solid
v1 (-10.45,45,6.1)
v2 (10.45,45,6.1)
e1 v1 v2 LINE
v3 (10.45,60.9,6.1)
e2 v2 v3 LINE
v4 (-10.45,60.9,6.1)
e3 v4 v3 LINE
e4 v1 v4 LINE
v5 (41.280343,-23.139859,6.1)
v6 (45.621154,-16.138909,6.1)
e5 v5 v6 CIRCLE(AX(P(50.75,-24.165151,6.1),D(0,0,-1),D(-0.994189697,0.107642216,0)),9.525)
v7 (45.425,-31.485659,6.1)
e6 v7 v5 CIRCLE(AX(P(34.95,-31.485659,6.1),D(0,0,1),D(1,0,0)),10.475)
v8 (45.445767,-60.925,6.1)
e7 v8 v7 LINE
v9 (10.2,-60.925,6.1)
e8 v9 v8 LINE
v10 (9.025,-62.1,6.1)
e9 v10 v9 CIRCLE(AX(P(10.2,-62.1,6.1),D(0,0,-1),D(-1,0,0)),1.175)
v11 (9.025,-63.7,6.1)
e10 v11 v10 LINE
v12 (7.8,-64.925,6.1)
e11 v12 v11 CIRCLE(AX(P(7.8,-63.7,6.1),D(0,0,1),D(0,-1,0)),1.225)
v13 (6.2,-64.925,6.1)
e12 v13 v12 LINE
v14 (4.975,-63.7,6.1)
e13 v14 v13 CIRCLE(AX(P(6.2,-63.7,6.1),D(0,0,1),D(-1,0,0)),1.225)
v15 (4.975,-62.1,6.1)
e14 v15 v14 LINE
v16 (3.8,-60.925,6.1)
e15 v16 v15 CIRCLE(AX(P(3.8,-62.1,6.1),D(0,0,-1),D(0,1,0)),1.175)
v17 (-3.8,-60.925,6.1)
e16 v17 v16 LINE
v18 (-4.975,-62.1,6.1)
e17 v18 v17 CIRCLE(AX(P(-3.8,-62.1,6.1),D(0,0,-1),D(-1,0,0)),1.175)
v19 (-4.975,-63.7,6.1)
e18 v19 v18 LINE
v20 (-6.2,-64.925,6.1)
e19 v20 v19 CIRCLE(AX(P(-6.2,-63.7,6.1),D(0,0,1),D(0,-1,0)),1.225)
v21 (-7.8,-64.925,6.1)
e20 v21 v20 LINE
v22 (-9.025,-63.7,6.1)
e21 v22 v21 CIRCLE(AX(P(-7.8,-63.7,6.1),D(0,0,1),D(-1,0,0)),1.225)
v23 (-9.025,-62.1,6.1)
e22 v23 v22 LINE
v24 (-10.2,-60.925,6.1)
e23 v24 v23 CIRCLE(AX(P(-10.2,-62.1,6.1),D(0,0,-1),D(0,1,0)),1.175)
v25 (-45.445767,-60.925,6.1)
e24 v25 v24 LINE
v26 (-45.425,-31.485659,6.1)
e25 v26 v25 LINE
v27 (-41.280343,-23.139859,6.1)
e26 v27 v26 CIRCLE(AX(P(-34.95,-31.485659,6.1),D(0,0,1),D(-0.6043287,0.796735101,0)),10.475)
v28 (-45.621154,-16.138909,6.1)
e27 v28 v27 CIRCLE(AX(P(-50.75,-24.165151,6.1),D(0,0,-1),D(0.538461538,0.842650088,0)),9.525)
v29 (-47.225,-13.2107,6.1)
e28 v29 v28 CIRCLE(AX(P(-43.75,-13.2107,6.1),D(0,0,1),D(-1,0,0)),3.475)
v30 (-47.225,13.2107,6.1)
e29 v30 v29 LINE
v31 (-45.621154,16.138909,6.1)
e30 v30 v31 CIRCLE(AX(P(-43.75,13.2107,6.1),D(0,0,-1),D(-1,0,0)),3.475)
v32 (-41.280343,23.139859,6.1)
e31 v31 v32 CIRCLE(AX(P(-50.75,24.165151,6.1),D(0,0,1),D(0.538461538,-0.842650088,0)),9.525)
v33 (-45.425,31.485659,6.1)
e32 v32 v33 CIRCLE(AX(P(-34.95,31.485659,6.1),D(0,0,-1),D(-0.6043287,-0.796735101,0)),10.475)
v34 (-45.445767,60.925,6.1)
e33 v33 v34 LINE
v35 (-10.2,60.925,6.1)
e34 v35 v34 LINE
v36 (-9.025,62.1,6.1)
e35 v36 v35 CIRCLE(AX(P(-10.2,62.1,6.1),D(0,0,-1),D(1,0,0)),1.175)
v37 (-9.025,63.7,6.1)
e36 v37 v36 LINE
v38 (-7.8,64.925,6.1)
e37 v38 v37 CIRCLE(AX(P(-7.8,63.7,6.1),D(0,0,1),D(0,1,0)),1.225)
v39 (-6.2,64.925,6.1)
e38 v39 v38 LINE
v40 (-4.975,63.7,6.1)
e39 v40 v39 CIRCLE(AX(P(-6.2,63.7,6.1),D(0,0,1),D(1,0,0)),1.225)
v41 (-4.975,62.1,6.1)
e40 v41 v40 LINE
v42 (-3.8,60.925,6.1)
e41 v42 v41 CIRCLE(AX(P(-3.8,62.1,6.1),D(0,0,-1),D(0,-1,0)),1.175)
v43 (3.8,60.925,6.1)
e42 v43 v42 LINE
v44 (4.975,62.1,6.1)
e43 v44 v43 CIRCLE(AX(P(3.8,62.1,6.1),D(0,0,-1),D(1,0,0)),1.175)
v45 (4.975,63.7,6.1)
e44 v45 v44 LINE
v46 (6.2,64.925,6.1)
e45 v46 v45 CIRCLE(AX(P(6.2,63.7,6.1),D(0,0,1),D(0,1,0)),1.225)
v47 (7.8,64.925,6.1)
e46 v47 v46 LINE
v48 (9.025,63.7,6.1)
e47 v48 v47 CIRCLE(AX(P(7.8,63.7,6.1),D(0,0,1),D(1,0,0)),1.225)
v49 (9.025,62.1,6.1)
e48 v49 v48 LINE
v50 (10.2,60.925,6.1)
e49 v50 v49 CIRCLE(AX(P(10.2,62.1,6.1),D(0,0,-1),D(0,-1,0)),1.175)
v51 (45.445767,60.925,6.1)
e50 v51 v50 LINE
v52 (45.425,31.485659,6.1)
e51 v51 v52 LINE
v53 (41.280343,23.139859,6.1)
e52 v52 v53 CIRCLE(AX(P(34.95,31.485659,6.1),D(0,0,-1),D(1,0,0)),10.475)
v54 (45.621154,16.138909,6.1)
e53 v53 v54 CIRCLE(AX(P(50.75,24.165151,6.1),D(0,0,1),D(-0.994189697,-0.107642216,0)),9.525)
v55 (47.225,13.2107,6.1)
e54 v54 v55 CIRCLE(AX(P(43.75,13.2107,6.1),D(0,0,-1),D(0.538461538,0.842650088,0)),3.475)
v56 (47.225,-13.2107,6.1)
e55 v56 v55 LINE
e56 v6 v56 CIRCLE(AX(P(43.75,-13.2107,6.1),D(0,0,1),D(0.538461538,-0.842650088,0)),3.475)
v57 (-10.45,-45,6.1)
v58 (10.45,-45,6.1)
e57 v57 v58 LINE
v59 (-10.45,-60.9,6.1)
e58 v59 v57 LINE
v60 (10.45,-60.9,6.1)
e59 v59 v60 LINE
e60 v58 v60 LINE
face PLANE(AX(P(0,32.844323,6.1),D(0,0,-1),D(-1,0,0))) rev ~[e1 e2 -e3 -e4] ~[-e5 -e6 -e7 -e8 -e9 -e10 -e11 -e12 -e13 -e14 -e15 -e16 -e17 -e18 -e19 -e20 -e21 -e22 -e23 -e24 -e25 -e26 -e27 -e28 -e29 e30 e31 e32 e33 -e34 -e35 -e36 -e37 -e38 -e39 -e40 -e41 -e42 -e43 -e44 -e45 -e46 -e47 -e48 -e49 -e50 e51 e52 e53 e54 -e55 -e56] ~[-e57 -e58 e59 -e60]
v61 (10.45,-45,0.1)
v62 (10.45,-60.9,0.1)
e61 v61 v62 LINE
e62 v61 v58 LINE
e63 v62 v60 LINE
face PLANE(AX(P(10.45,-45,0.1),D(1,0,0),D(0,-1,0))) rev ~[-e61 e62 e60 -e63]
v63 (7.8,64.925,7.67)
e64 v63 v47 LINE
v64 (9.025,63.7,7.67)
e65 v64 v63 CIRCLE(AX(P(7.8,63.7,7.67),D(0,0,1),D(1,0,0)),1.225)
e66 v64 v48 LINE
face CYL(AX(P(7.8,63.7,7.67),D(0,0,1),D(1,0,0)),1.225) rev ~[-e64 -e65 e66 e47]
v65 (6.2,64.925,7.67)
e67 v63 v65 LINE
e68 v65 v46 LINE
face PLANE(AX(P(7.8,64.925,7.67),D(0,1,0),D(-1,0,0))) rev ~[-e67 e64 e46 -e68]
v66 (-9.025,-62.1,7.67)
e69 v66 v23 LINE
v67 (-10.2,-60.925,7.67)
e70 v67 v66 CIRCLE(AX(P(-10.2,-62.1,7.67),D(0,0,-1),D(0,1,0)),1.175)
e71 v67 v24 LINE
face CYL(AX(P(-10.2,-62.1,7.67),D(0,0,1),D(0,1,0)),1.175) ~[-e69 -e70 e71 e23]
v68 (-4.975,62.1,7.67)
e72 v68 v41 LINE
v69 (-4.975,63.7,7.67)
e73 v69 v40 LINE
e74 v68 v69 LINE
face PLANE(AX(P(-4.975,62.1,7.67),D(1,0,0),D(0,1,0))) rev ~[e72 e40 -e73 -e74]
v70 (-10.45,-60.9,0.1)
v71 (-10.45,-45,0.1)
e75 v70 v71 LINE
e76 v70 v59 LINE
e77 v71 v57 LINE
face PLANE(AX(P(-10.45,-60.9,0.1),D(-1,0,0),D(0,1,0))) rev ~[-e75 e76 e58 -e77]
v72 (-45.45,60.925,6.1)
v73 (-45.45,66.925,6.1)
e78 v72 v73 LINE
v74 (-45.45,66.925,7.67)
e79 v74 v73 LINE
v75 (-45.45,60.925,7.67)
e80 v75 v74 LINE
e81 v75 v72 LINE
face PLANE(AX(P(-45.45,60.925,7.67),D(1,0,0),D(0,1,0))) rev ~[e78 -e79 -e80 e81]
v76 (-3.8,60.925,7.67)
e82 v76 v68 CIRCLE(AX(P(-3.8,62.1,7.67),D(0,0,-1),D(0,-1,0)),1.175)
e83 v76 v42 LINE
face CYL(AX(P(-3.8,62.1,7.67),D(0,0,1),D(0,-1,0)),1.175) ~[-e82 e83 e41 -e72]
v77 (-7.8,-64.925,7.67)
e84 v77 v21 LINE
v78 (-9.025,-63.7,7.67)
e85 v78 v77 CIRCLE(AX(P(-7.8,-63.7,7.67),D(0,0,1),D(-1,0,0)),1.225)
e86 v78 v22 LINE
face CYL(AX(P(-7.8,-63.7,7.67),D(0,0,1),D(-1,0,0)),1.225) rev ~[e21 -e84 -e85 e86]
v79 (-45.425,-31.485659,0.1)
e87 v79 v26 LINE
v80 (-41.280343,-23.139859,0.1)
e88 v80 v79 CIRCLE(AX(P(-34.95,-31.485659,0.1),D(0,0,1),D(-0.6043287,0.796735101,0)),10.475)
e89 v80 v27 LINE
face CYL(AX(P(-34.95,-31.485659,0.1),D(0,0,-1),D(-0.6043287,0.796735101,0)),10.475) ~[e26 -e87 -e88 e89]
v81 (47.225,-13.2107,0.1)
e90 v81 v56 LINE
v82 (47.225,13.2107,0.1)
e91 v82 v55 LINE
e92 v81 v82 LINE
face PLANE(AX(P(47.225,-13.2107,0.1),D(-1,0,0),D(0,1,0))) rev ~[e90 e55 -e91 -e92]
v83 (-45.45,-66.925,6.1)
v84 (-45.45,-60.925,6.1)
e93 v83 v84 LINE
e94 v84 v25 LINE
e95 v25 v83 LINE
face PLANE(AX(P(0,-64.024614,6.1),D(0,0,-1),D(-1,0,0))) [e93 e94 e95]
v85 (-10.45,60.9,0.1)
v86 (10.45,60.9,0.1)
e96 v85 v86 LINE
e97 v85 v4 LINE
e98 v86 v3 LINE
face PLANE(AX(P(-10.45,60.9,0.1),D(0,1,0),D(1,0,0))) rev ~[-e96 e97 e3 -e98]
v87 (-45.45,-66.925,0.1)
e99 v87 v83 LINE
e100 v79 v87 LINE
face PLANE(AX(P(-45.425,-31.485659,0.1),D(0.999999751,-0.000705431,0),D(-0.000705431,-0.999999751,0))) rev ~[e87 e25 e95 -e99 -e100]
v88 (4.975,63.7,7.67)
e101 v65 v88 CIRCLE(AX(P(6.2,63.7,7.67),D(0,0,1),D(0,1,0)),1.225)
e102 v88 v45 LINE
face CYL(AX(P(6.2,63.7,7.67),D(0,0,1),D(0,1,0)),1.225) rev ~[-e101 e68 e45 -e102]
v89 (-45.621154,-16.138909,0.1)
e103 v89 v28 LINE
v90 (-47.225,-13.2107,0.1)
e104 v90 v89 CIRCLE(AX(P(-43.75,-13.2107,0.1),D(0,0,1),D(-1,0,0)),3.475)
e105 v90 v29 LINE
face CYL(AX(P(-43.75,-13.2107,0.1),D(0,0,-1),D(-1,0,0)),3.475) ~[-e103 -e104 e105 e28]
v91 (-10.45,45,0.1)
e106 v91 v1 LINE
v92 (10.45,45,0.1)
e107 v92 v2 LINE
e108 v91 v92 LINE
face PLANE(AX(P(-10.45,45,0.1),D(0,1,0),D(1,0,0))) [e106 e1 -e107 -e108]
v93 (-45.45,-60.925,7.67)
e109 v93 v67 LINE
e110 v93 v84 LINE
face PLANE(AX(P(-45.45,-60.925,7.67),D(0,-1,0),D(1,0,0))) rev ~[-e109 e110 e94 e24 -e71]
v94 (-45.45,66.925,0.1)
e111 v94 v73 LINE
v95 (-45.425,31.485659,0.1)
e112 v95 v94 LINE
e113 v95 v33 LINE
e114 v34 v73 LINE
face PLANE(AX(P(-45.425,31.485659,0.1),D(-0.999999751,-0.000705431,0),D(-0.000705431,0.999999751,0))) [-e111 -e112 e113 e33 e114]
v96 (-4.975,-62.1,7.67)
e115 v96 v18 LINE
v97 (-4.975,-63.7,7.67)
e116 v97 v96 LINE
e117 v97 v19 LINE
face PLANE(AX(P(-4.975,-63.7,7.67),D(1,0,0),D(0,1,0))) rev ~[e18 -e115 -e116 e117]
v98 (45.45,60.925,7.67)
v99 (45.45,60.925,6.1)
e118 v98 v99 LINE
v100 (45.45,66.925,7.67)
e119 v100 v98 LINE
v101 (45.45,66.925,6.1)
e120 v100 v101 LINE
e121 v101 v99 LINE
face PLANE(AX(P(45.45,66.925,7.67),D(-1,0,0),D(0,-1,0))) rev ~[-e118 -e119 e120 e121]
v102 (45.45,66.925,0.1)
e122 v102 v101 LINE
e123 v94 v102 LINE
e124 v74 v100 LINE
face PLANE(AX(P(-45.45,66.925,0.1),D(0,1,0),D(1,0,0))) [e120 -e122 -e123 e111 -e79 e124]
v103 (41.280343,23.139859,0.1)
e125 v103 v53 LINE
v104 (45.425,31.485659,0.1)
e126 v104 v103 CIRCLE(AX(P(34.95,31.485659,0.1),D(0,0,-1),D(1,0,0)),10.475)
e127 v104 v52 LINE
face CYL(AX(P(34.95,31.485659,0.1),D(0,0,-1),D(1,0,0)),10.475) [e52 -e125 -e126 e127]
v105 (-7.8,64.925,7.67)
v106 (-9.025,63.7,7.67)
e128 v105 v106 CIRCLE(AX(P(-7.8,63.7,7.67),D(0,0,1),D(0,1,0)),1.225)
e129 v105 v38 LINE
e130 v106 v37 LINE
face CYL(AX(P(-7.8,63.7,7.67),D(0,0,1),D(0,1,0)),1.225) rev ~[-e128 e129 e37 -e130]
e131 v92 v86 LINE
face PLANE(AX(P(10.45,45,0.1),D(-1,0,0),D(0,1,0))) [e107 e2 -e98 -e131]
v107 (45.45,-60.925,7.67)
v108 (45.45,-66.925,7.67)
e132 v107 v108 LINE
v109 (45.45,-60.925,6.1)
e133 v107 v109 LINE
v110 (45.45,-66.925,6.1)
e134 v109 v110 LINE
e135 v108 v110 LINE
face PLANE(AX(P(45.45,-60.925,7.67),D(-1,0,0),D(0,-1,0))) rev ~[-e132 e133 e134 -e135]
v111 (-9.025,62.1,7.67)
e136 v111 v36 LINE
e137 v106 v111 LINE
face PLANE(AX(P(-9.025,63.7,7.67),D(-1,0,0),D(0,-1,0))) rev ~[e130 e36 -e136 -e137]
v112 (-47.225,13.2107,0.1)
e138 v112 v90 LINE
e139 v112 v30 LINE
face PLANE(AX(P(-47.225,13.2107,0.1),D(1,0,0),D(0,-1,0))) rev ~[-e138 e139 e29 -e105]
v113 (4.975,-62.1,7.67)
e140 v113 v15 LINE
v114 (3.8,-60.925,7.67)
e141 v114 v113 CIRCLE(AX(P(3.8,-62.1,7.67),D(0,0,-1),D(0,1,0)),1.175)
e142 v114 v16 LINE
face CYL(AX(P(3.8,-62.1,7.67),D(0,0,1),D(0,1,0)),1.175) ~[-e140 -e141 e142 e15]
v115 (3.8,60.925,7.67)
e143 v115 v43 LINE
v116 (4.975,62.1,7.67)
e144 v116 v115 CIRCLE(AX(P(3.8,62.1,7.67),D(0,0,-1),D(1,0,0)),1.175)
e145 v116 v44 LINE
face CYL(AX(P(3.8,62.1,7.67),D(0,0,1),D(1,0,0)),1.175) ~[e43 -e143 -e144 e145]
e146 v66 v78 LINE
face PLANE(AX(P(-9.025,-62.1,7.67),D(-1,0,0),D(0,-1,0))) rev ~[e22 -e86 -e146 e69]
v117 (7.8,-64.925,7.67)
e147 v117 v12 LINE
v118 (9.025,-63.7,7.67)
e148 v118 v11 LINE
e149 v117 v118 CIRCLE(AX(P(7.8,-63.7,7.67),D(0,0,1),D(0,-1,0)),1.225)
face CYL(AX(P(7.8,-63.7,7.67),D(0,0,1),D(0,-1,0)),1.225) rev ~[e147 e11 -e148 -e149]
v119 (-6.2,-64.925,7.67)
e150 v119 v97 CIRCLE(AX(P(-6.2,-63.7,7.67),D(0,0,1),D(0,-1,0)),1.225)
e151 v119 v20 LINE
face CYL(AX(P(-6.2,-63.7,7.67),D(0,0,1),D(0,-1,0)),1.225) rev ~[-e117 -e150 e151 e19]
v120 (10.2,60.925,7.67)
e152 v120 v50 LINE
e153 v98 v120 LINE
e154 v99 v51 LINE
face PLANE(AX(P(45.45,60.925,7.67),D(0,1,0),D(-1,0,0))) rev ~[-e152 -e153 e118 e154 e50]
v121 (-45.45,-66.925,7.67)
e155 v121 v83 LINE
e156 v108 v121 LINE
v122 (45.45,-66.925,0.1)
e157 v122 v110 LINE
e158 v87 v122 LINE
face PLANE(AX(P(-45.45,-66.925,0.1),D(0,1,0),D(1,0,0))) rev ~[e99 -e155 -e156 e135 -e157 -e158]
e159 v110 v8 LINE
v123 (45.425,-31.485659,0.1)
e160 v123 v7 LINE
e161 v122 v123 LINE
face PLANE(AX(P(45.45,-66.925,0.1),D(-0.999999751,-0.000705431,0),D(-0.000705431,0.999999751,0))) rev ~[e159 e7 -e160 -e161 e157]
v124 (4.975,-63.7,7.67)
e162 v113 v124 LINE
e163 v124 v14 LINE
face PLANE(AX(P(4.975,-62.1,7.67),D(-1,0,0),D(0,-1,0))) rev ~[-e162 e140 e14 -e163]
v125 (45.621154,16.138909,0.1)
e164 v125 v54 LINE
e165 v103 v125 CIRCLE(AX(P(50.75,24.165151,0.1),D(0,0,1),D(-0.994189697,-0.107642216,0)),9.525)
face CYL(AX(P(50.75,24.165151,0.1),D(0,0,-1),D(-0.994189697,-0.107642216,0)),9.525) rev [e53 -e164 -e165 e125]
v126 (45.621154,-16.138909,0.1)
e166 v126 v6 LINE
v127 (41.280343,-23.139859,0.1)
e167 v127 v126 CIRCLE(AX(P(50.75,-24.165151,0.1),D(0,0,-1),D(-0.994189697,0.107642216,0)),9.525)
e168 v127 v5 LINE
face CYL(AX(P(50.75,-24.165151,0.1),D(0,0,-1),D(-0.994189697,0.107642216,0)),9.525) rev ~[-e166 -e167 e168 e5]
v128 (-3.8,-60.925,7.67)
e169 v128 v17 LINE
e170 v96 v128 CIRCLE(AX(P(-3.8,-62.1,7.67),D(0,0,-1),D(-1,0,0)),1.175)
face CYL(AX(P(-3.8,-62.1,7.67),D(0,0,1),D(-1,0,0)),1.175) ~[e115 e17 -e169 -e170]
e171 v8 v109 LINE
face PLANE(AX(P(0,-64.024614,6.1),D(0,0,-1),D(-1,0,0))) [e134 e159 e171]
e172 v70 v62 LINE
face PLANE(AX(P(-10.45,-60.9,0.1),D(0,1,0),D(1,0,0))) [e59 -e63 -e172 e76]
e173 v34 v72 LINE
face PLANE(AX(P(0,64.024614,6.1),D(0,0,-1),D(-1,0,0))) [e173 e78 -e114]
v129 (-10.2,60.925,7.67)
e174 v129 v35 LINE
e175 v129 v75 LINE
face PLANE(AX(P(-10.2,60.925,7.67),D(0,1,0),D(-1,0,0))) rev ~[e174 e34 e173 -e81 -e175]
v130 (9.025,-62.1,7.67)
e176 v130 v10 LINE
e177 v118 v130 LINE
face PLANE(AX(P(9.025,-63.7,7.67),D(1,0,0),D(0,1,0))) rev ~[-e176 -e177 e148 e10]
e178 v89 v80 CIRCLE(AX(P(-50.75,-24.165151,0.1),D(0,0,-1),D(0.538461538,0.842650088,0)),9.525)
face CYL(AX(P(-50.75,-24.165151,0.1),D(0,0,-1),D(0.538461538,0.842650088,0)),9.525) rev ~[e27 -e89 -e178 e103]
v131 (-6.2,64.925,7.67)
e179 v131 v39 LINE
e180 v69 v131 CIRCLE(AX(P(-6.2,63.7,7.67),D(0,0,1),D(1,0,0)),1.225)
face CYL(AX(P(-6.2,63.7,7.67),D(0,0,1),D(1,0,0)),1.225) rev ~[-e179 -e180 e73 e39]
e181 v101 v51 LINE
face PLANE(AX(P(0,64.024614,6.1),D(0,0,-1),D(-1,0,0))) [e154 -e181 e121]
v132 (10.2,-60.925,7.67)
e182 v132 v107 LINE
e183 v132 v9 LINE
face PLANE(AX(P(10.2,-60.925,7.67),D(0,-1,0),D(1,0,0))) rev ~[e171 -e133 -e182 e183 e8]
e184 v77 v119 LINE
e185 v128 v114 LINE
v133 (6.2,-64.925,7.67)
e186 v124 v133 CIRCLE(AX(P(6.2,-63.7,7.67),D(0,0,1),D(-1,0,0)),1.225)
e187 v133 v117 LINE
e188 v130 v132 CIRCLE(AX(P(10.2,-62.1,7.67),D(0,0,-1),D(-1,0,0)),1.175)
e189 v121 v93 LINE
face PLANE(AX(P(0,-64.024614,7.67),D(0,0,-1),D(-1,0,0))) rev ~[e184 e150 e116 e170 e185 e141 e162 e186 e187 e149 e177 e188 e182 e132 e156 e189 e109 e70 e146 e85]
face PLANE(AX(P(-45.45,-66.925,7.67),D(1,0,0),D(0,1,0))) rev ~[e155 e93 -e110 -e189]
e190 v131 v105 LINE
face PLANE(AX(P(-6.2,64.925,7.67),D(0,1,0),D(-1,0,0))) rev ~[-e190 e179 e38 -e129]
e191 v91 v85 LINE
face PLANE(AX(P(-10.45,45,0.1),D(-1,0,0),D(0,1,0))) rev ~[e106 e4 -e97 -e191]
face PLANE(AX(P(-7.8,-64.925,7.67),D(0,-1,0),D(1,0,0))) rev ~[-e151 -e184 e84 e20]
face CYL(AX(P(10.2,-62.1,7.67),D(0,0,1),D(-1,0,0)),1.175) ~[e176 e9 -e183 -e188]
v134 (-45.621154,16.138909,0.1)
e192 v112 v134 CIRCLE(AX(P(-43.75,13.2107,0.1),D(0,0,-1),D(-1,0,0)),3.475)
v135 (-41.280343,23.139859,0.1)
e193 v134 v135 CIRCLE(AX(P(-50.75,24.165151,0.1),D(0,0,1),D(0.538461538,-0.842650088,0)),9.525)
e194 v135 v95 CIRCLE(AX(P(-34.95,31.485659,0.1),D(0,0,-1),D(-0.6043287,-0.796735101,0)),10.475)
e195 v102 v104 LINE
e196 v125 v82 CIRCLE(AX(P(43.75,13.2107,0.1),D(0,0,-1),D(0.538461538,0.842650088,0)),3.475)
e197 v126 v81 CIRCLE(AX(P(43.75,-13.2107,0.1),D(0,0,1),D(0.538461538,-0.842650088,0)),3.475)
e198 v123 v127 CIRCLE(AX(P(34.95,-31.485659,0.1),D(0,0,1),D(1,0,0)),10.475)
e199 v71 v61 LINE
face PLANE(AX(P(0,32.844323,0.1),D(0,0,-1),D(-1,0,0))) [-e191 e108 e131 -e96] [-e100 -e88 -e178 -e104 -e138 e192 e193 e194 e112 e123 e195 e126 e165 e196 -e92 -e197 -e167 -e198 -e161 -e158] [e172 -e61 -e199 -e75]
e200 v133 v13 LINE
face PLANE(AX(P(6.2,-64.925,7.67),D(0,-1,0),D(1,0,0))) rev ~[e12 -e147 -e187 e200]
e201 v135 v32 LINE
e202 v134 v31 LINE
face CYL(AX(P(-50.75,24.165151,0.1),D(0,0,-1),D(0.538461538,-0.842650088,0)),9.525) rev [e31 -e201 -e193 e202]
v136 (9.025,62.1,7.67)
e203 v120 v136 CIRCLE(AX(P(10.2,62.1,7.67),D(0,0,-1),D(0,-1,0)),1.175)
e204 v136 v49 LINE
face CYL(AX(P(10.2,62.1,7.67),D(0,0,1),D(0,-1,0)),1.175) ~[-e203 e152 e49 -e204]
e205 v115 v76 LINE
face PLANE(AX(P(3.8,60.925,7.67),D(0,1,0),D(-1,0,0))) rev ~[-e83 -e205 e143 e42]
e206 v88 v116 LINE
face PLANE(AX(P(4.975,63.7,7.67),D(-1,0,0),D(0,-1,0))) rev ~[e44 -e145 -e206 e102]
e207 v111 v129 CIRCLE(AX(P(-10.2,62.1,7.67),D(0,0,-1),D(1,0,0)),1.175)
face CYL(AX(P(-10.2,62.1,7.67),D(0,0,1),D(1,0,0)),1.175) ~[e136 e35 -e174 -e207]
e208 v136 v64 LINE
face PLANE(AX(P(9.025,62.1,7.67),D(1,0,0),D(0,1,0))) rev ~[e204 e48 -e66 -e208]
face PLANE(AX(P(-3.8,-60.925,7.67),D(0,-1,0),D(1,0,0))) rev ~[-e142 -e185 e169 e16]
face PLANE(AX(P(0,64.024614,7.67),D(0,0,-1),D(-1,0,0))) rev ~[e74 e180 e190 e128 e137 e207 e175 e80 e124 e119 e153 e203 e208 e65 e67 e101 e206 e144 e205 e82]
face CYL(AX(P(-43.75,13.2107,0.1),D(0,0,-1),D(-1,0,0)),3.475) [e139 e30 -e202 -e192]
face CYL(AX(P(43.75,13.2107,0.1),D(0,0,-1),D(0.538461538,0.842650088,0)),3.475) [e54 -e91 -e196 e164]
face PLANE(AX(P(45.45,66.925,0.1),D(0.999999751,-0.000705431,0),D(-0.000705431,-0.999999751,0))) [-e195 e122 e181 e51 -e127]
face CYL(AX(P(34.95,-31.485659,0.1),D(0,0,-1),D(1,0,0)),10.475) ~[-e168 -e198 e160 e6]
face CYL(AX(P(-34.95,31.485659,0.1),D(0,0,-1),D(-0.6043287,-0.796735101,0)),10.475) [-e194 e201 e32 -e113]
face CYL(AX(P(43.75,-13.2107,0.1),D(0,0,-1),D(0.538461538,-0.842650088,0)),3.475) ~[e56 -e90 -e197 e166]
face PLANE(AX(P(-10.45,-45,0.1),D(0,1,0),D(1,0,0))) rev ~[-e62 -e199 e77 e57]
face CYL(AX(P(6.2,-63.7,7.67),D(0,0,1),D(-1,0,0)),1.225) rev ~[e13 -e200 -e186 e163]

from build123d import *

# Parameters (mm, degrees)
BOSS_EXTRUDE1_DEPTH   = 1.57
BOSS_EXTRUDE1_2_DEPTH = 1.57
SKETCH2_W             = 20.9
SKETCH2_H             = 15.9
SKETCH2_W_2           = 94.45
SKETCH2_H_2           = 0.025
SKETCH2_H_3           = 6.025
BOSS_EXTRUDE3_DEPTH   = 6


with BuildPart() as part:
    # Sketch1 → Boss-Extrude1 (new body)
    with BuildSketch(Plane.XY.offset(7.67)):
        with BuildLine():
            Line((-10.2, 60.925), (-45.45, 60.925))
            Line((-45.45, 60.925), (-45.45, 66.925))
            Line((-45.45, 66.925), (45.45, 66.925))
            Line((45.45, 66.925), (45.45, 60.925))
            Line((45.45, 60.925), (10.2, 60.925))
            ThreePointArc((10.2, 60.925), (9.369149532, 61.269149532), (9.025, 62.1))
            Line((9.025, 62.1), (9.025, 63.7))
            ThreePointArc((9.025, 63.7), (8.666205807, 64.566205807), (7.8, 64.925))
            Line((7.8, 64.925), (6.2, 64.925))
            ThreePointArc((6.2, 64.925), (5.333794193, 64.566205807), (4.975, 63.7))
            Line((4.975, 63.7), (4.975, 62.1))
            ThreePointArc((4.975, 62.1), (4.630850468, 61.269149532), (3.8, 60.925))
            Line((3.8, 60.925), (-3.8, 60.925))
            ThreePointArc((-3.8, 60.925), (-4.630850468, 61.269149532), (-4.975, 62.1))
            Line((-4.975, 62.1), (-4.975, 63.7))
            ThreePointArc((-4.975, 63.7), (-5.333794193, 64.566205807), (-6.2, 64.925))
            Line((-6.2, 64.925), (-7.8, 64.925))
            ThreePointArc((-7.8, 64.925), (-8.666205807, 64.566205807), (-9.025, 63.7))
            Line((-9.025, 63.7), (-9.025, 62.1))
            ThreePointArc((-9.025, 62.1), (-9.369149532, 61.269149532), (-10.2, 60.925))
        make_face()
    extrude(amount=-BOSS_EXTRUDE1_DEPTH)



with BuildPart() as body_2:
    # Sketch1 → Boss-Extrude1 2 (new body)
    with BuildSketch(Plane.XY.offset(7.67)):
        with BuildLine():
            Line((10.2, -60.925), (45.45, -60.925))
            Line((45.45, -60.925), (45.45, -66.925))
            Line((45.45, -66.925), (-45.45, -66.925))
            Line((-45.45, -66.925), (-45.45, -60.925))
            Line((-45.45, -60.925), (-10.2, -60.925))
            ThreePointArc((-10.2, -60.925), (-9.369149532, -61.269149532), (-9.025, -62.1))
            Line((-9.025, -62.1), (-9.025, -63.7))
            ThreePointArc((-9.025, -63.7), (-8.666205807, -64.566205807), (-7.8, -64.925))
            Line((-7.8, -64.925), (-6.2, -64.925))
            ThreePointArc((-6.2, -64.925), (-5.333794193, -64.566205807), (-4.975, -63.7))
            Line((-4.975, -63.7), (-4.975, -62.1))
            ThreePointArc((-4.975, -62.1), (-4.630850468, -61.269149532), (-3.8, -60.925))
            Line((-3.8, -60.925), (3.8, -60.925))
            ThreePointArc((3.8, -60.925), (4.630850468, -61.269149532), (4.975, -62.1))
            Line((4.975, -62.1), (4.975, -63.7))
            ThreePointArc((4.975, -63.7), (5.333794193, -64.566205807), (6.2, -64.925))
            Line((6.2, -64.925), (7.8, -64.925))
            ThreePointArc((7.8, -64.925), (8.666205807, -64.566205807), (9.025, -63.7))
            Line((9.025, -63.7), (9.025, -62.1))
            ThreePointArc((9.025, -62.1), (9.369149532, -61.269149532), (10.2, -60.925))
        make_face()
    extrude(amount=-BOSS_EXTRUDE1_2_DEPTH)


with BuildPart() as part_1:
    add(part.part)

    add(body_2.part)  # Boss-Extrude3 merges body 2
    # Sketch2 → Boss-Extrude3 (add)
    with BuildSketch(Plane.XY.offset(0.1)):
        with BuildLine():
            ThreePointArc((-45.621153846, 16.138909297), (-42.65479168, 19.145865857), (-41.280343138, 23.139859279))
            ThreePointArc((-41.280343138, 23.139859279), (-44.331790058, 26.826513587), (-45.425, 31.485659466))
            Line((-45.425, 31.485659466), (-45.45, 66.925))
            Line((-45.45, 66.925), (45.45, 66.925))
            Line((45.45, 66.925), (45.425, 31.485659466))
            ThreePointArc((45.425, 31.485659466), (44.331790058, 26.826513587), (41.280343138, 23.139859279))
            ThreePointArc((41.280343138, 23.139859279), (42.65479168, 19.145865857), (45.621153846, 16.138909297))
            ThreePointArc((45.621153846, 16.138909297), (46.797776617, 14.880036243), (47.225, 13.21070024))
            Line((47.225, 13.21070024), (47.225, 0.025))
            Line((47.225, 0.025), (-47.225, 0.025))
            Line((-47.225, 0.025), (-47.225, 13.21070024))
            ThreePointArc((-47.225, 13.21070024), (-46.797776617, 14.880036243), (-45.621153846, 16.138909297))
        make_face()
        with Locations((0, 52.95)):
            Rectangle(SKETCH2_W, SKETCH2_H, mode=Mode.SUBTRACT)
        with Locations((0, 0.0125)):
            Rectangle(SKETCH2_W_2, SKETCH2_H_2)
        with Locations((0, -0.0125)):
            Rectangle(SKETCH2_W_2, SKETCH2_H_2)
        with BuildLine():
            Line((-47.225, -0.025), (-47.225, -13.21070024))
            ThreePointArc((-47.225, -13.21070024), (-46.797776617, -14.880036243), (-45.621153846, -16.138909297))
            ThreePointArc((-45.621153846, -16.138909297), (-42.65479168, -19.145865857), (-41.280343138, -23.139859279))
            ThreePointArc((-41.280343138, -23.139859279), (-44.331790058, -26.826513587), (-45.425, -31.485659466))
            Line((-45.425, -31.485659466), (-45.45, -66.925))
            Line((-45.45, -66.925), (-30.45, -66.925))
            Line((-30.45, -66.925), (-30.45, -45))
            Line((-30.45, -45), (-10.45, -45))
            Line((-10.45, -45), (10.45, -45))
            Line((10.45, -45), (30.45, -45))
            Line((30.45, -45), (30.45, -66.925))
            Line((30.45, -66.925), (45.45, -66.925))
            Line((45.45, -66.925), (45.425, -31.485659466))
            ThreePointArc((45.425, -31.485659466), (44.331790058, -26.826513587), (41.280343138, -23.139859279))
            ThreePointArc((41.280343138, -23.139859279), (42.65479168, -19.145865857), (45.621153846, -16.138909297))
            ThreePointArc((45.621153846, -16.138909297), (46.797776617, -14.880036243), (47.225, -13.21070024))
            Line((47.225, -13.21070024), (47.225, -0.025))
            Line((47.225, -0.025), (-47.225, -0.025))
        make_face()
        Polygon((10.45, -60.9), (10.45, -66.925), (30.45, -66.925), (30.45, -45), (10.45, -45), align=None)
        Polygon((-30.45, -45), (-30.45, -66.925), (-10.45, -66.925), (-10.45, -60.9), (-10.45, -45), align=None)
        with Locations((0, -63.9125)):
            Rectangle(SKETCH2_W, SKETCH2_H_3)
    extrude(amount=BOSS_EXTRUDE3_DEPTH)


solid = part_1.part
